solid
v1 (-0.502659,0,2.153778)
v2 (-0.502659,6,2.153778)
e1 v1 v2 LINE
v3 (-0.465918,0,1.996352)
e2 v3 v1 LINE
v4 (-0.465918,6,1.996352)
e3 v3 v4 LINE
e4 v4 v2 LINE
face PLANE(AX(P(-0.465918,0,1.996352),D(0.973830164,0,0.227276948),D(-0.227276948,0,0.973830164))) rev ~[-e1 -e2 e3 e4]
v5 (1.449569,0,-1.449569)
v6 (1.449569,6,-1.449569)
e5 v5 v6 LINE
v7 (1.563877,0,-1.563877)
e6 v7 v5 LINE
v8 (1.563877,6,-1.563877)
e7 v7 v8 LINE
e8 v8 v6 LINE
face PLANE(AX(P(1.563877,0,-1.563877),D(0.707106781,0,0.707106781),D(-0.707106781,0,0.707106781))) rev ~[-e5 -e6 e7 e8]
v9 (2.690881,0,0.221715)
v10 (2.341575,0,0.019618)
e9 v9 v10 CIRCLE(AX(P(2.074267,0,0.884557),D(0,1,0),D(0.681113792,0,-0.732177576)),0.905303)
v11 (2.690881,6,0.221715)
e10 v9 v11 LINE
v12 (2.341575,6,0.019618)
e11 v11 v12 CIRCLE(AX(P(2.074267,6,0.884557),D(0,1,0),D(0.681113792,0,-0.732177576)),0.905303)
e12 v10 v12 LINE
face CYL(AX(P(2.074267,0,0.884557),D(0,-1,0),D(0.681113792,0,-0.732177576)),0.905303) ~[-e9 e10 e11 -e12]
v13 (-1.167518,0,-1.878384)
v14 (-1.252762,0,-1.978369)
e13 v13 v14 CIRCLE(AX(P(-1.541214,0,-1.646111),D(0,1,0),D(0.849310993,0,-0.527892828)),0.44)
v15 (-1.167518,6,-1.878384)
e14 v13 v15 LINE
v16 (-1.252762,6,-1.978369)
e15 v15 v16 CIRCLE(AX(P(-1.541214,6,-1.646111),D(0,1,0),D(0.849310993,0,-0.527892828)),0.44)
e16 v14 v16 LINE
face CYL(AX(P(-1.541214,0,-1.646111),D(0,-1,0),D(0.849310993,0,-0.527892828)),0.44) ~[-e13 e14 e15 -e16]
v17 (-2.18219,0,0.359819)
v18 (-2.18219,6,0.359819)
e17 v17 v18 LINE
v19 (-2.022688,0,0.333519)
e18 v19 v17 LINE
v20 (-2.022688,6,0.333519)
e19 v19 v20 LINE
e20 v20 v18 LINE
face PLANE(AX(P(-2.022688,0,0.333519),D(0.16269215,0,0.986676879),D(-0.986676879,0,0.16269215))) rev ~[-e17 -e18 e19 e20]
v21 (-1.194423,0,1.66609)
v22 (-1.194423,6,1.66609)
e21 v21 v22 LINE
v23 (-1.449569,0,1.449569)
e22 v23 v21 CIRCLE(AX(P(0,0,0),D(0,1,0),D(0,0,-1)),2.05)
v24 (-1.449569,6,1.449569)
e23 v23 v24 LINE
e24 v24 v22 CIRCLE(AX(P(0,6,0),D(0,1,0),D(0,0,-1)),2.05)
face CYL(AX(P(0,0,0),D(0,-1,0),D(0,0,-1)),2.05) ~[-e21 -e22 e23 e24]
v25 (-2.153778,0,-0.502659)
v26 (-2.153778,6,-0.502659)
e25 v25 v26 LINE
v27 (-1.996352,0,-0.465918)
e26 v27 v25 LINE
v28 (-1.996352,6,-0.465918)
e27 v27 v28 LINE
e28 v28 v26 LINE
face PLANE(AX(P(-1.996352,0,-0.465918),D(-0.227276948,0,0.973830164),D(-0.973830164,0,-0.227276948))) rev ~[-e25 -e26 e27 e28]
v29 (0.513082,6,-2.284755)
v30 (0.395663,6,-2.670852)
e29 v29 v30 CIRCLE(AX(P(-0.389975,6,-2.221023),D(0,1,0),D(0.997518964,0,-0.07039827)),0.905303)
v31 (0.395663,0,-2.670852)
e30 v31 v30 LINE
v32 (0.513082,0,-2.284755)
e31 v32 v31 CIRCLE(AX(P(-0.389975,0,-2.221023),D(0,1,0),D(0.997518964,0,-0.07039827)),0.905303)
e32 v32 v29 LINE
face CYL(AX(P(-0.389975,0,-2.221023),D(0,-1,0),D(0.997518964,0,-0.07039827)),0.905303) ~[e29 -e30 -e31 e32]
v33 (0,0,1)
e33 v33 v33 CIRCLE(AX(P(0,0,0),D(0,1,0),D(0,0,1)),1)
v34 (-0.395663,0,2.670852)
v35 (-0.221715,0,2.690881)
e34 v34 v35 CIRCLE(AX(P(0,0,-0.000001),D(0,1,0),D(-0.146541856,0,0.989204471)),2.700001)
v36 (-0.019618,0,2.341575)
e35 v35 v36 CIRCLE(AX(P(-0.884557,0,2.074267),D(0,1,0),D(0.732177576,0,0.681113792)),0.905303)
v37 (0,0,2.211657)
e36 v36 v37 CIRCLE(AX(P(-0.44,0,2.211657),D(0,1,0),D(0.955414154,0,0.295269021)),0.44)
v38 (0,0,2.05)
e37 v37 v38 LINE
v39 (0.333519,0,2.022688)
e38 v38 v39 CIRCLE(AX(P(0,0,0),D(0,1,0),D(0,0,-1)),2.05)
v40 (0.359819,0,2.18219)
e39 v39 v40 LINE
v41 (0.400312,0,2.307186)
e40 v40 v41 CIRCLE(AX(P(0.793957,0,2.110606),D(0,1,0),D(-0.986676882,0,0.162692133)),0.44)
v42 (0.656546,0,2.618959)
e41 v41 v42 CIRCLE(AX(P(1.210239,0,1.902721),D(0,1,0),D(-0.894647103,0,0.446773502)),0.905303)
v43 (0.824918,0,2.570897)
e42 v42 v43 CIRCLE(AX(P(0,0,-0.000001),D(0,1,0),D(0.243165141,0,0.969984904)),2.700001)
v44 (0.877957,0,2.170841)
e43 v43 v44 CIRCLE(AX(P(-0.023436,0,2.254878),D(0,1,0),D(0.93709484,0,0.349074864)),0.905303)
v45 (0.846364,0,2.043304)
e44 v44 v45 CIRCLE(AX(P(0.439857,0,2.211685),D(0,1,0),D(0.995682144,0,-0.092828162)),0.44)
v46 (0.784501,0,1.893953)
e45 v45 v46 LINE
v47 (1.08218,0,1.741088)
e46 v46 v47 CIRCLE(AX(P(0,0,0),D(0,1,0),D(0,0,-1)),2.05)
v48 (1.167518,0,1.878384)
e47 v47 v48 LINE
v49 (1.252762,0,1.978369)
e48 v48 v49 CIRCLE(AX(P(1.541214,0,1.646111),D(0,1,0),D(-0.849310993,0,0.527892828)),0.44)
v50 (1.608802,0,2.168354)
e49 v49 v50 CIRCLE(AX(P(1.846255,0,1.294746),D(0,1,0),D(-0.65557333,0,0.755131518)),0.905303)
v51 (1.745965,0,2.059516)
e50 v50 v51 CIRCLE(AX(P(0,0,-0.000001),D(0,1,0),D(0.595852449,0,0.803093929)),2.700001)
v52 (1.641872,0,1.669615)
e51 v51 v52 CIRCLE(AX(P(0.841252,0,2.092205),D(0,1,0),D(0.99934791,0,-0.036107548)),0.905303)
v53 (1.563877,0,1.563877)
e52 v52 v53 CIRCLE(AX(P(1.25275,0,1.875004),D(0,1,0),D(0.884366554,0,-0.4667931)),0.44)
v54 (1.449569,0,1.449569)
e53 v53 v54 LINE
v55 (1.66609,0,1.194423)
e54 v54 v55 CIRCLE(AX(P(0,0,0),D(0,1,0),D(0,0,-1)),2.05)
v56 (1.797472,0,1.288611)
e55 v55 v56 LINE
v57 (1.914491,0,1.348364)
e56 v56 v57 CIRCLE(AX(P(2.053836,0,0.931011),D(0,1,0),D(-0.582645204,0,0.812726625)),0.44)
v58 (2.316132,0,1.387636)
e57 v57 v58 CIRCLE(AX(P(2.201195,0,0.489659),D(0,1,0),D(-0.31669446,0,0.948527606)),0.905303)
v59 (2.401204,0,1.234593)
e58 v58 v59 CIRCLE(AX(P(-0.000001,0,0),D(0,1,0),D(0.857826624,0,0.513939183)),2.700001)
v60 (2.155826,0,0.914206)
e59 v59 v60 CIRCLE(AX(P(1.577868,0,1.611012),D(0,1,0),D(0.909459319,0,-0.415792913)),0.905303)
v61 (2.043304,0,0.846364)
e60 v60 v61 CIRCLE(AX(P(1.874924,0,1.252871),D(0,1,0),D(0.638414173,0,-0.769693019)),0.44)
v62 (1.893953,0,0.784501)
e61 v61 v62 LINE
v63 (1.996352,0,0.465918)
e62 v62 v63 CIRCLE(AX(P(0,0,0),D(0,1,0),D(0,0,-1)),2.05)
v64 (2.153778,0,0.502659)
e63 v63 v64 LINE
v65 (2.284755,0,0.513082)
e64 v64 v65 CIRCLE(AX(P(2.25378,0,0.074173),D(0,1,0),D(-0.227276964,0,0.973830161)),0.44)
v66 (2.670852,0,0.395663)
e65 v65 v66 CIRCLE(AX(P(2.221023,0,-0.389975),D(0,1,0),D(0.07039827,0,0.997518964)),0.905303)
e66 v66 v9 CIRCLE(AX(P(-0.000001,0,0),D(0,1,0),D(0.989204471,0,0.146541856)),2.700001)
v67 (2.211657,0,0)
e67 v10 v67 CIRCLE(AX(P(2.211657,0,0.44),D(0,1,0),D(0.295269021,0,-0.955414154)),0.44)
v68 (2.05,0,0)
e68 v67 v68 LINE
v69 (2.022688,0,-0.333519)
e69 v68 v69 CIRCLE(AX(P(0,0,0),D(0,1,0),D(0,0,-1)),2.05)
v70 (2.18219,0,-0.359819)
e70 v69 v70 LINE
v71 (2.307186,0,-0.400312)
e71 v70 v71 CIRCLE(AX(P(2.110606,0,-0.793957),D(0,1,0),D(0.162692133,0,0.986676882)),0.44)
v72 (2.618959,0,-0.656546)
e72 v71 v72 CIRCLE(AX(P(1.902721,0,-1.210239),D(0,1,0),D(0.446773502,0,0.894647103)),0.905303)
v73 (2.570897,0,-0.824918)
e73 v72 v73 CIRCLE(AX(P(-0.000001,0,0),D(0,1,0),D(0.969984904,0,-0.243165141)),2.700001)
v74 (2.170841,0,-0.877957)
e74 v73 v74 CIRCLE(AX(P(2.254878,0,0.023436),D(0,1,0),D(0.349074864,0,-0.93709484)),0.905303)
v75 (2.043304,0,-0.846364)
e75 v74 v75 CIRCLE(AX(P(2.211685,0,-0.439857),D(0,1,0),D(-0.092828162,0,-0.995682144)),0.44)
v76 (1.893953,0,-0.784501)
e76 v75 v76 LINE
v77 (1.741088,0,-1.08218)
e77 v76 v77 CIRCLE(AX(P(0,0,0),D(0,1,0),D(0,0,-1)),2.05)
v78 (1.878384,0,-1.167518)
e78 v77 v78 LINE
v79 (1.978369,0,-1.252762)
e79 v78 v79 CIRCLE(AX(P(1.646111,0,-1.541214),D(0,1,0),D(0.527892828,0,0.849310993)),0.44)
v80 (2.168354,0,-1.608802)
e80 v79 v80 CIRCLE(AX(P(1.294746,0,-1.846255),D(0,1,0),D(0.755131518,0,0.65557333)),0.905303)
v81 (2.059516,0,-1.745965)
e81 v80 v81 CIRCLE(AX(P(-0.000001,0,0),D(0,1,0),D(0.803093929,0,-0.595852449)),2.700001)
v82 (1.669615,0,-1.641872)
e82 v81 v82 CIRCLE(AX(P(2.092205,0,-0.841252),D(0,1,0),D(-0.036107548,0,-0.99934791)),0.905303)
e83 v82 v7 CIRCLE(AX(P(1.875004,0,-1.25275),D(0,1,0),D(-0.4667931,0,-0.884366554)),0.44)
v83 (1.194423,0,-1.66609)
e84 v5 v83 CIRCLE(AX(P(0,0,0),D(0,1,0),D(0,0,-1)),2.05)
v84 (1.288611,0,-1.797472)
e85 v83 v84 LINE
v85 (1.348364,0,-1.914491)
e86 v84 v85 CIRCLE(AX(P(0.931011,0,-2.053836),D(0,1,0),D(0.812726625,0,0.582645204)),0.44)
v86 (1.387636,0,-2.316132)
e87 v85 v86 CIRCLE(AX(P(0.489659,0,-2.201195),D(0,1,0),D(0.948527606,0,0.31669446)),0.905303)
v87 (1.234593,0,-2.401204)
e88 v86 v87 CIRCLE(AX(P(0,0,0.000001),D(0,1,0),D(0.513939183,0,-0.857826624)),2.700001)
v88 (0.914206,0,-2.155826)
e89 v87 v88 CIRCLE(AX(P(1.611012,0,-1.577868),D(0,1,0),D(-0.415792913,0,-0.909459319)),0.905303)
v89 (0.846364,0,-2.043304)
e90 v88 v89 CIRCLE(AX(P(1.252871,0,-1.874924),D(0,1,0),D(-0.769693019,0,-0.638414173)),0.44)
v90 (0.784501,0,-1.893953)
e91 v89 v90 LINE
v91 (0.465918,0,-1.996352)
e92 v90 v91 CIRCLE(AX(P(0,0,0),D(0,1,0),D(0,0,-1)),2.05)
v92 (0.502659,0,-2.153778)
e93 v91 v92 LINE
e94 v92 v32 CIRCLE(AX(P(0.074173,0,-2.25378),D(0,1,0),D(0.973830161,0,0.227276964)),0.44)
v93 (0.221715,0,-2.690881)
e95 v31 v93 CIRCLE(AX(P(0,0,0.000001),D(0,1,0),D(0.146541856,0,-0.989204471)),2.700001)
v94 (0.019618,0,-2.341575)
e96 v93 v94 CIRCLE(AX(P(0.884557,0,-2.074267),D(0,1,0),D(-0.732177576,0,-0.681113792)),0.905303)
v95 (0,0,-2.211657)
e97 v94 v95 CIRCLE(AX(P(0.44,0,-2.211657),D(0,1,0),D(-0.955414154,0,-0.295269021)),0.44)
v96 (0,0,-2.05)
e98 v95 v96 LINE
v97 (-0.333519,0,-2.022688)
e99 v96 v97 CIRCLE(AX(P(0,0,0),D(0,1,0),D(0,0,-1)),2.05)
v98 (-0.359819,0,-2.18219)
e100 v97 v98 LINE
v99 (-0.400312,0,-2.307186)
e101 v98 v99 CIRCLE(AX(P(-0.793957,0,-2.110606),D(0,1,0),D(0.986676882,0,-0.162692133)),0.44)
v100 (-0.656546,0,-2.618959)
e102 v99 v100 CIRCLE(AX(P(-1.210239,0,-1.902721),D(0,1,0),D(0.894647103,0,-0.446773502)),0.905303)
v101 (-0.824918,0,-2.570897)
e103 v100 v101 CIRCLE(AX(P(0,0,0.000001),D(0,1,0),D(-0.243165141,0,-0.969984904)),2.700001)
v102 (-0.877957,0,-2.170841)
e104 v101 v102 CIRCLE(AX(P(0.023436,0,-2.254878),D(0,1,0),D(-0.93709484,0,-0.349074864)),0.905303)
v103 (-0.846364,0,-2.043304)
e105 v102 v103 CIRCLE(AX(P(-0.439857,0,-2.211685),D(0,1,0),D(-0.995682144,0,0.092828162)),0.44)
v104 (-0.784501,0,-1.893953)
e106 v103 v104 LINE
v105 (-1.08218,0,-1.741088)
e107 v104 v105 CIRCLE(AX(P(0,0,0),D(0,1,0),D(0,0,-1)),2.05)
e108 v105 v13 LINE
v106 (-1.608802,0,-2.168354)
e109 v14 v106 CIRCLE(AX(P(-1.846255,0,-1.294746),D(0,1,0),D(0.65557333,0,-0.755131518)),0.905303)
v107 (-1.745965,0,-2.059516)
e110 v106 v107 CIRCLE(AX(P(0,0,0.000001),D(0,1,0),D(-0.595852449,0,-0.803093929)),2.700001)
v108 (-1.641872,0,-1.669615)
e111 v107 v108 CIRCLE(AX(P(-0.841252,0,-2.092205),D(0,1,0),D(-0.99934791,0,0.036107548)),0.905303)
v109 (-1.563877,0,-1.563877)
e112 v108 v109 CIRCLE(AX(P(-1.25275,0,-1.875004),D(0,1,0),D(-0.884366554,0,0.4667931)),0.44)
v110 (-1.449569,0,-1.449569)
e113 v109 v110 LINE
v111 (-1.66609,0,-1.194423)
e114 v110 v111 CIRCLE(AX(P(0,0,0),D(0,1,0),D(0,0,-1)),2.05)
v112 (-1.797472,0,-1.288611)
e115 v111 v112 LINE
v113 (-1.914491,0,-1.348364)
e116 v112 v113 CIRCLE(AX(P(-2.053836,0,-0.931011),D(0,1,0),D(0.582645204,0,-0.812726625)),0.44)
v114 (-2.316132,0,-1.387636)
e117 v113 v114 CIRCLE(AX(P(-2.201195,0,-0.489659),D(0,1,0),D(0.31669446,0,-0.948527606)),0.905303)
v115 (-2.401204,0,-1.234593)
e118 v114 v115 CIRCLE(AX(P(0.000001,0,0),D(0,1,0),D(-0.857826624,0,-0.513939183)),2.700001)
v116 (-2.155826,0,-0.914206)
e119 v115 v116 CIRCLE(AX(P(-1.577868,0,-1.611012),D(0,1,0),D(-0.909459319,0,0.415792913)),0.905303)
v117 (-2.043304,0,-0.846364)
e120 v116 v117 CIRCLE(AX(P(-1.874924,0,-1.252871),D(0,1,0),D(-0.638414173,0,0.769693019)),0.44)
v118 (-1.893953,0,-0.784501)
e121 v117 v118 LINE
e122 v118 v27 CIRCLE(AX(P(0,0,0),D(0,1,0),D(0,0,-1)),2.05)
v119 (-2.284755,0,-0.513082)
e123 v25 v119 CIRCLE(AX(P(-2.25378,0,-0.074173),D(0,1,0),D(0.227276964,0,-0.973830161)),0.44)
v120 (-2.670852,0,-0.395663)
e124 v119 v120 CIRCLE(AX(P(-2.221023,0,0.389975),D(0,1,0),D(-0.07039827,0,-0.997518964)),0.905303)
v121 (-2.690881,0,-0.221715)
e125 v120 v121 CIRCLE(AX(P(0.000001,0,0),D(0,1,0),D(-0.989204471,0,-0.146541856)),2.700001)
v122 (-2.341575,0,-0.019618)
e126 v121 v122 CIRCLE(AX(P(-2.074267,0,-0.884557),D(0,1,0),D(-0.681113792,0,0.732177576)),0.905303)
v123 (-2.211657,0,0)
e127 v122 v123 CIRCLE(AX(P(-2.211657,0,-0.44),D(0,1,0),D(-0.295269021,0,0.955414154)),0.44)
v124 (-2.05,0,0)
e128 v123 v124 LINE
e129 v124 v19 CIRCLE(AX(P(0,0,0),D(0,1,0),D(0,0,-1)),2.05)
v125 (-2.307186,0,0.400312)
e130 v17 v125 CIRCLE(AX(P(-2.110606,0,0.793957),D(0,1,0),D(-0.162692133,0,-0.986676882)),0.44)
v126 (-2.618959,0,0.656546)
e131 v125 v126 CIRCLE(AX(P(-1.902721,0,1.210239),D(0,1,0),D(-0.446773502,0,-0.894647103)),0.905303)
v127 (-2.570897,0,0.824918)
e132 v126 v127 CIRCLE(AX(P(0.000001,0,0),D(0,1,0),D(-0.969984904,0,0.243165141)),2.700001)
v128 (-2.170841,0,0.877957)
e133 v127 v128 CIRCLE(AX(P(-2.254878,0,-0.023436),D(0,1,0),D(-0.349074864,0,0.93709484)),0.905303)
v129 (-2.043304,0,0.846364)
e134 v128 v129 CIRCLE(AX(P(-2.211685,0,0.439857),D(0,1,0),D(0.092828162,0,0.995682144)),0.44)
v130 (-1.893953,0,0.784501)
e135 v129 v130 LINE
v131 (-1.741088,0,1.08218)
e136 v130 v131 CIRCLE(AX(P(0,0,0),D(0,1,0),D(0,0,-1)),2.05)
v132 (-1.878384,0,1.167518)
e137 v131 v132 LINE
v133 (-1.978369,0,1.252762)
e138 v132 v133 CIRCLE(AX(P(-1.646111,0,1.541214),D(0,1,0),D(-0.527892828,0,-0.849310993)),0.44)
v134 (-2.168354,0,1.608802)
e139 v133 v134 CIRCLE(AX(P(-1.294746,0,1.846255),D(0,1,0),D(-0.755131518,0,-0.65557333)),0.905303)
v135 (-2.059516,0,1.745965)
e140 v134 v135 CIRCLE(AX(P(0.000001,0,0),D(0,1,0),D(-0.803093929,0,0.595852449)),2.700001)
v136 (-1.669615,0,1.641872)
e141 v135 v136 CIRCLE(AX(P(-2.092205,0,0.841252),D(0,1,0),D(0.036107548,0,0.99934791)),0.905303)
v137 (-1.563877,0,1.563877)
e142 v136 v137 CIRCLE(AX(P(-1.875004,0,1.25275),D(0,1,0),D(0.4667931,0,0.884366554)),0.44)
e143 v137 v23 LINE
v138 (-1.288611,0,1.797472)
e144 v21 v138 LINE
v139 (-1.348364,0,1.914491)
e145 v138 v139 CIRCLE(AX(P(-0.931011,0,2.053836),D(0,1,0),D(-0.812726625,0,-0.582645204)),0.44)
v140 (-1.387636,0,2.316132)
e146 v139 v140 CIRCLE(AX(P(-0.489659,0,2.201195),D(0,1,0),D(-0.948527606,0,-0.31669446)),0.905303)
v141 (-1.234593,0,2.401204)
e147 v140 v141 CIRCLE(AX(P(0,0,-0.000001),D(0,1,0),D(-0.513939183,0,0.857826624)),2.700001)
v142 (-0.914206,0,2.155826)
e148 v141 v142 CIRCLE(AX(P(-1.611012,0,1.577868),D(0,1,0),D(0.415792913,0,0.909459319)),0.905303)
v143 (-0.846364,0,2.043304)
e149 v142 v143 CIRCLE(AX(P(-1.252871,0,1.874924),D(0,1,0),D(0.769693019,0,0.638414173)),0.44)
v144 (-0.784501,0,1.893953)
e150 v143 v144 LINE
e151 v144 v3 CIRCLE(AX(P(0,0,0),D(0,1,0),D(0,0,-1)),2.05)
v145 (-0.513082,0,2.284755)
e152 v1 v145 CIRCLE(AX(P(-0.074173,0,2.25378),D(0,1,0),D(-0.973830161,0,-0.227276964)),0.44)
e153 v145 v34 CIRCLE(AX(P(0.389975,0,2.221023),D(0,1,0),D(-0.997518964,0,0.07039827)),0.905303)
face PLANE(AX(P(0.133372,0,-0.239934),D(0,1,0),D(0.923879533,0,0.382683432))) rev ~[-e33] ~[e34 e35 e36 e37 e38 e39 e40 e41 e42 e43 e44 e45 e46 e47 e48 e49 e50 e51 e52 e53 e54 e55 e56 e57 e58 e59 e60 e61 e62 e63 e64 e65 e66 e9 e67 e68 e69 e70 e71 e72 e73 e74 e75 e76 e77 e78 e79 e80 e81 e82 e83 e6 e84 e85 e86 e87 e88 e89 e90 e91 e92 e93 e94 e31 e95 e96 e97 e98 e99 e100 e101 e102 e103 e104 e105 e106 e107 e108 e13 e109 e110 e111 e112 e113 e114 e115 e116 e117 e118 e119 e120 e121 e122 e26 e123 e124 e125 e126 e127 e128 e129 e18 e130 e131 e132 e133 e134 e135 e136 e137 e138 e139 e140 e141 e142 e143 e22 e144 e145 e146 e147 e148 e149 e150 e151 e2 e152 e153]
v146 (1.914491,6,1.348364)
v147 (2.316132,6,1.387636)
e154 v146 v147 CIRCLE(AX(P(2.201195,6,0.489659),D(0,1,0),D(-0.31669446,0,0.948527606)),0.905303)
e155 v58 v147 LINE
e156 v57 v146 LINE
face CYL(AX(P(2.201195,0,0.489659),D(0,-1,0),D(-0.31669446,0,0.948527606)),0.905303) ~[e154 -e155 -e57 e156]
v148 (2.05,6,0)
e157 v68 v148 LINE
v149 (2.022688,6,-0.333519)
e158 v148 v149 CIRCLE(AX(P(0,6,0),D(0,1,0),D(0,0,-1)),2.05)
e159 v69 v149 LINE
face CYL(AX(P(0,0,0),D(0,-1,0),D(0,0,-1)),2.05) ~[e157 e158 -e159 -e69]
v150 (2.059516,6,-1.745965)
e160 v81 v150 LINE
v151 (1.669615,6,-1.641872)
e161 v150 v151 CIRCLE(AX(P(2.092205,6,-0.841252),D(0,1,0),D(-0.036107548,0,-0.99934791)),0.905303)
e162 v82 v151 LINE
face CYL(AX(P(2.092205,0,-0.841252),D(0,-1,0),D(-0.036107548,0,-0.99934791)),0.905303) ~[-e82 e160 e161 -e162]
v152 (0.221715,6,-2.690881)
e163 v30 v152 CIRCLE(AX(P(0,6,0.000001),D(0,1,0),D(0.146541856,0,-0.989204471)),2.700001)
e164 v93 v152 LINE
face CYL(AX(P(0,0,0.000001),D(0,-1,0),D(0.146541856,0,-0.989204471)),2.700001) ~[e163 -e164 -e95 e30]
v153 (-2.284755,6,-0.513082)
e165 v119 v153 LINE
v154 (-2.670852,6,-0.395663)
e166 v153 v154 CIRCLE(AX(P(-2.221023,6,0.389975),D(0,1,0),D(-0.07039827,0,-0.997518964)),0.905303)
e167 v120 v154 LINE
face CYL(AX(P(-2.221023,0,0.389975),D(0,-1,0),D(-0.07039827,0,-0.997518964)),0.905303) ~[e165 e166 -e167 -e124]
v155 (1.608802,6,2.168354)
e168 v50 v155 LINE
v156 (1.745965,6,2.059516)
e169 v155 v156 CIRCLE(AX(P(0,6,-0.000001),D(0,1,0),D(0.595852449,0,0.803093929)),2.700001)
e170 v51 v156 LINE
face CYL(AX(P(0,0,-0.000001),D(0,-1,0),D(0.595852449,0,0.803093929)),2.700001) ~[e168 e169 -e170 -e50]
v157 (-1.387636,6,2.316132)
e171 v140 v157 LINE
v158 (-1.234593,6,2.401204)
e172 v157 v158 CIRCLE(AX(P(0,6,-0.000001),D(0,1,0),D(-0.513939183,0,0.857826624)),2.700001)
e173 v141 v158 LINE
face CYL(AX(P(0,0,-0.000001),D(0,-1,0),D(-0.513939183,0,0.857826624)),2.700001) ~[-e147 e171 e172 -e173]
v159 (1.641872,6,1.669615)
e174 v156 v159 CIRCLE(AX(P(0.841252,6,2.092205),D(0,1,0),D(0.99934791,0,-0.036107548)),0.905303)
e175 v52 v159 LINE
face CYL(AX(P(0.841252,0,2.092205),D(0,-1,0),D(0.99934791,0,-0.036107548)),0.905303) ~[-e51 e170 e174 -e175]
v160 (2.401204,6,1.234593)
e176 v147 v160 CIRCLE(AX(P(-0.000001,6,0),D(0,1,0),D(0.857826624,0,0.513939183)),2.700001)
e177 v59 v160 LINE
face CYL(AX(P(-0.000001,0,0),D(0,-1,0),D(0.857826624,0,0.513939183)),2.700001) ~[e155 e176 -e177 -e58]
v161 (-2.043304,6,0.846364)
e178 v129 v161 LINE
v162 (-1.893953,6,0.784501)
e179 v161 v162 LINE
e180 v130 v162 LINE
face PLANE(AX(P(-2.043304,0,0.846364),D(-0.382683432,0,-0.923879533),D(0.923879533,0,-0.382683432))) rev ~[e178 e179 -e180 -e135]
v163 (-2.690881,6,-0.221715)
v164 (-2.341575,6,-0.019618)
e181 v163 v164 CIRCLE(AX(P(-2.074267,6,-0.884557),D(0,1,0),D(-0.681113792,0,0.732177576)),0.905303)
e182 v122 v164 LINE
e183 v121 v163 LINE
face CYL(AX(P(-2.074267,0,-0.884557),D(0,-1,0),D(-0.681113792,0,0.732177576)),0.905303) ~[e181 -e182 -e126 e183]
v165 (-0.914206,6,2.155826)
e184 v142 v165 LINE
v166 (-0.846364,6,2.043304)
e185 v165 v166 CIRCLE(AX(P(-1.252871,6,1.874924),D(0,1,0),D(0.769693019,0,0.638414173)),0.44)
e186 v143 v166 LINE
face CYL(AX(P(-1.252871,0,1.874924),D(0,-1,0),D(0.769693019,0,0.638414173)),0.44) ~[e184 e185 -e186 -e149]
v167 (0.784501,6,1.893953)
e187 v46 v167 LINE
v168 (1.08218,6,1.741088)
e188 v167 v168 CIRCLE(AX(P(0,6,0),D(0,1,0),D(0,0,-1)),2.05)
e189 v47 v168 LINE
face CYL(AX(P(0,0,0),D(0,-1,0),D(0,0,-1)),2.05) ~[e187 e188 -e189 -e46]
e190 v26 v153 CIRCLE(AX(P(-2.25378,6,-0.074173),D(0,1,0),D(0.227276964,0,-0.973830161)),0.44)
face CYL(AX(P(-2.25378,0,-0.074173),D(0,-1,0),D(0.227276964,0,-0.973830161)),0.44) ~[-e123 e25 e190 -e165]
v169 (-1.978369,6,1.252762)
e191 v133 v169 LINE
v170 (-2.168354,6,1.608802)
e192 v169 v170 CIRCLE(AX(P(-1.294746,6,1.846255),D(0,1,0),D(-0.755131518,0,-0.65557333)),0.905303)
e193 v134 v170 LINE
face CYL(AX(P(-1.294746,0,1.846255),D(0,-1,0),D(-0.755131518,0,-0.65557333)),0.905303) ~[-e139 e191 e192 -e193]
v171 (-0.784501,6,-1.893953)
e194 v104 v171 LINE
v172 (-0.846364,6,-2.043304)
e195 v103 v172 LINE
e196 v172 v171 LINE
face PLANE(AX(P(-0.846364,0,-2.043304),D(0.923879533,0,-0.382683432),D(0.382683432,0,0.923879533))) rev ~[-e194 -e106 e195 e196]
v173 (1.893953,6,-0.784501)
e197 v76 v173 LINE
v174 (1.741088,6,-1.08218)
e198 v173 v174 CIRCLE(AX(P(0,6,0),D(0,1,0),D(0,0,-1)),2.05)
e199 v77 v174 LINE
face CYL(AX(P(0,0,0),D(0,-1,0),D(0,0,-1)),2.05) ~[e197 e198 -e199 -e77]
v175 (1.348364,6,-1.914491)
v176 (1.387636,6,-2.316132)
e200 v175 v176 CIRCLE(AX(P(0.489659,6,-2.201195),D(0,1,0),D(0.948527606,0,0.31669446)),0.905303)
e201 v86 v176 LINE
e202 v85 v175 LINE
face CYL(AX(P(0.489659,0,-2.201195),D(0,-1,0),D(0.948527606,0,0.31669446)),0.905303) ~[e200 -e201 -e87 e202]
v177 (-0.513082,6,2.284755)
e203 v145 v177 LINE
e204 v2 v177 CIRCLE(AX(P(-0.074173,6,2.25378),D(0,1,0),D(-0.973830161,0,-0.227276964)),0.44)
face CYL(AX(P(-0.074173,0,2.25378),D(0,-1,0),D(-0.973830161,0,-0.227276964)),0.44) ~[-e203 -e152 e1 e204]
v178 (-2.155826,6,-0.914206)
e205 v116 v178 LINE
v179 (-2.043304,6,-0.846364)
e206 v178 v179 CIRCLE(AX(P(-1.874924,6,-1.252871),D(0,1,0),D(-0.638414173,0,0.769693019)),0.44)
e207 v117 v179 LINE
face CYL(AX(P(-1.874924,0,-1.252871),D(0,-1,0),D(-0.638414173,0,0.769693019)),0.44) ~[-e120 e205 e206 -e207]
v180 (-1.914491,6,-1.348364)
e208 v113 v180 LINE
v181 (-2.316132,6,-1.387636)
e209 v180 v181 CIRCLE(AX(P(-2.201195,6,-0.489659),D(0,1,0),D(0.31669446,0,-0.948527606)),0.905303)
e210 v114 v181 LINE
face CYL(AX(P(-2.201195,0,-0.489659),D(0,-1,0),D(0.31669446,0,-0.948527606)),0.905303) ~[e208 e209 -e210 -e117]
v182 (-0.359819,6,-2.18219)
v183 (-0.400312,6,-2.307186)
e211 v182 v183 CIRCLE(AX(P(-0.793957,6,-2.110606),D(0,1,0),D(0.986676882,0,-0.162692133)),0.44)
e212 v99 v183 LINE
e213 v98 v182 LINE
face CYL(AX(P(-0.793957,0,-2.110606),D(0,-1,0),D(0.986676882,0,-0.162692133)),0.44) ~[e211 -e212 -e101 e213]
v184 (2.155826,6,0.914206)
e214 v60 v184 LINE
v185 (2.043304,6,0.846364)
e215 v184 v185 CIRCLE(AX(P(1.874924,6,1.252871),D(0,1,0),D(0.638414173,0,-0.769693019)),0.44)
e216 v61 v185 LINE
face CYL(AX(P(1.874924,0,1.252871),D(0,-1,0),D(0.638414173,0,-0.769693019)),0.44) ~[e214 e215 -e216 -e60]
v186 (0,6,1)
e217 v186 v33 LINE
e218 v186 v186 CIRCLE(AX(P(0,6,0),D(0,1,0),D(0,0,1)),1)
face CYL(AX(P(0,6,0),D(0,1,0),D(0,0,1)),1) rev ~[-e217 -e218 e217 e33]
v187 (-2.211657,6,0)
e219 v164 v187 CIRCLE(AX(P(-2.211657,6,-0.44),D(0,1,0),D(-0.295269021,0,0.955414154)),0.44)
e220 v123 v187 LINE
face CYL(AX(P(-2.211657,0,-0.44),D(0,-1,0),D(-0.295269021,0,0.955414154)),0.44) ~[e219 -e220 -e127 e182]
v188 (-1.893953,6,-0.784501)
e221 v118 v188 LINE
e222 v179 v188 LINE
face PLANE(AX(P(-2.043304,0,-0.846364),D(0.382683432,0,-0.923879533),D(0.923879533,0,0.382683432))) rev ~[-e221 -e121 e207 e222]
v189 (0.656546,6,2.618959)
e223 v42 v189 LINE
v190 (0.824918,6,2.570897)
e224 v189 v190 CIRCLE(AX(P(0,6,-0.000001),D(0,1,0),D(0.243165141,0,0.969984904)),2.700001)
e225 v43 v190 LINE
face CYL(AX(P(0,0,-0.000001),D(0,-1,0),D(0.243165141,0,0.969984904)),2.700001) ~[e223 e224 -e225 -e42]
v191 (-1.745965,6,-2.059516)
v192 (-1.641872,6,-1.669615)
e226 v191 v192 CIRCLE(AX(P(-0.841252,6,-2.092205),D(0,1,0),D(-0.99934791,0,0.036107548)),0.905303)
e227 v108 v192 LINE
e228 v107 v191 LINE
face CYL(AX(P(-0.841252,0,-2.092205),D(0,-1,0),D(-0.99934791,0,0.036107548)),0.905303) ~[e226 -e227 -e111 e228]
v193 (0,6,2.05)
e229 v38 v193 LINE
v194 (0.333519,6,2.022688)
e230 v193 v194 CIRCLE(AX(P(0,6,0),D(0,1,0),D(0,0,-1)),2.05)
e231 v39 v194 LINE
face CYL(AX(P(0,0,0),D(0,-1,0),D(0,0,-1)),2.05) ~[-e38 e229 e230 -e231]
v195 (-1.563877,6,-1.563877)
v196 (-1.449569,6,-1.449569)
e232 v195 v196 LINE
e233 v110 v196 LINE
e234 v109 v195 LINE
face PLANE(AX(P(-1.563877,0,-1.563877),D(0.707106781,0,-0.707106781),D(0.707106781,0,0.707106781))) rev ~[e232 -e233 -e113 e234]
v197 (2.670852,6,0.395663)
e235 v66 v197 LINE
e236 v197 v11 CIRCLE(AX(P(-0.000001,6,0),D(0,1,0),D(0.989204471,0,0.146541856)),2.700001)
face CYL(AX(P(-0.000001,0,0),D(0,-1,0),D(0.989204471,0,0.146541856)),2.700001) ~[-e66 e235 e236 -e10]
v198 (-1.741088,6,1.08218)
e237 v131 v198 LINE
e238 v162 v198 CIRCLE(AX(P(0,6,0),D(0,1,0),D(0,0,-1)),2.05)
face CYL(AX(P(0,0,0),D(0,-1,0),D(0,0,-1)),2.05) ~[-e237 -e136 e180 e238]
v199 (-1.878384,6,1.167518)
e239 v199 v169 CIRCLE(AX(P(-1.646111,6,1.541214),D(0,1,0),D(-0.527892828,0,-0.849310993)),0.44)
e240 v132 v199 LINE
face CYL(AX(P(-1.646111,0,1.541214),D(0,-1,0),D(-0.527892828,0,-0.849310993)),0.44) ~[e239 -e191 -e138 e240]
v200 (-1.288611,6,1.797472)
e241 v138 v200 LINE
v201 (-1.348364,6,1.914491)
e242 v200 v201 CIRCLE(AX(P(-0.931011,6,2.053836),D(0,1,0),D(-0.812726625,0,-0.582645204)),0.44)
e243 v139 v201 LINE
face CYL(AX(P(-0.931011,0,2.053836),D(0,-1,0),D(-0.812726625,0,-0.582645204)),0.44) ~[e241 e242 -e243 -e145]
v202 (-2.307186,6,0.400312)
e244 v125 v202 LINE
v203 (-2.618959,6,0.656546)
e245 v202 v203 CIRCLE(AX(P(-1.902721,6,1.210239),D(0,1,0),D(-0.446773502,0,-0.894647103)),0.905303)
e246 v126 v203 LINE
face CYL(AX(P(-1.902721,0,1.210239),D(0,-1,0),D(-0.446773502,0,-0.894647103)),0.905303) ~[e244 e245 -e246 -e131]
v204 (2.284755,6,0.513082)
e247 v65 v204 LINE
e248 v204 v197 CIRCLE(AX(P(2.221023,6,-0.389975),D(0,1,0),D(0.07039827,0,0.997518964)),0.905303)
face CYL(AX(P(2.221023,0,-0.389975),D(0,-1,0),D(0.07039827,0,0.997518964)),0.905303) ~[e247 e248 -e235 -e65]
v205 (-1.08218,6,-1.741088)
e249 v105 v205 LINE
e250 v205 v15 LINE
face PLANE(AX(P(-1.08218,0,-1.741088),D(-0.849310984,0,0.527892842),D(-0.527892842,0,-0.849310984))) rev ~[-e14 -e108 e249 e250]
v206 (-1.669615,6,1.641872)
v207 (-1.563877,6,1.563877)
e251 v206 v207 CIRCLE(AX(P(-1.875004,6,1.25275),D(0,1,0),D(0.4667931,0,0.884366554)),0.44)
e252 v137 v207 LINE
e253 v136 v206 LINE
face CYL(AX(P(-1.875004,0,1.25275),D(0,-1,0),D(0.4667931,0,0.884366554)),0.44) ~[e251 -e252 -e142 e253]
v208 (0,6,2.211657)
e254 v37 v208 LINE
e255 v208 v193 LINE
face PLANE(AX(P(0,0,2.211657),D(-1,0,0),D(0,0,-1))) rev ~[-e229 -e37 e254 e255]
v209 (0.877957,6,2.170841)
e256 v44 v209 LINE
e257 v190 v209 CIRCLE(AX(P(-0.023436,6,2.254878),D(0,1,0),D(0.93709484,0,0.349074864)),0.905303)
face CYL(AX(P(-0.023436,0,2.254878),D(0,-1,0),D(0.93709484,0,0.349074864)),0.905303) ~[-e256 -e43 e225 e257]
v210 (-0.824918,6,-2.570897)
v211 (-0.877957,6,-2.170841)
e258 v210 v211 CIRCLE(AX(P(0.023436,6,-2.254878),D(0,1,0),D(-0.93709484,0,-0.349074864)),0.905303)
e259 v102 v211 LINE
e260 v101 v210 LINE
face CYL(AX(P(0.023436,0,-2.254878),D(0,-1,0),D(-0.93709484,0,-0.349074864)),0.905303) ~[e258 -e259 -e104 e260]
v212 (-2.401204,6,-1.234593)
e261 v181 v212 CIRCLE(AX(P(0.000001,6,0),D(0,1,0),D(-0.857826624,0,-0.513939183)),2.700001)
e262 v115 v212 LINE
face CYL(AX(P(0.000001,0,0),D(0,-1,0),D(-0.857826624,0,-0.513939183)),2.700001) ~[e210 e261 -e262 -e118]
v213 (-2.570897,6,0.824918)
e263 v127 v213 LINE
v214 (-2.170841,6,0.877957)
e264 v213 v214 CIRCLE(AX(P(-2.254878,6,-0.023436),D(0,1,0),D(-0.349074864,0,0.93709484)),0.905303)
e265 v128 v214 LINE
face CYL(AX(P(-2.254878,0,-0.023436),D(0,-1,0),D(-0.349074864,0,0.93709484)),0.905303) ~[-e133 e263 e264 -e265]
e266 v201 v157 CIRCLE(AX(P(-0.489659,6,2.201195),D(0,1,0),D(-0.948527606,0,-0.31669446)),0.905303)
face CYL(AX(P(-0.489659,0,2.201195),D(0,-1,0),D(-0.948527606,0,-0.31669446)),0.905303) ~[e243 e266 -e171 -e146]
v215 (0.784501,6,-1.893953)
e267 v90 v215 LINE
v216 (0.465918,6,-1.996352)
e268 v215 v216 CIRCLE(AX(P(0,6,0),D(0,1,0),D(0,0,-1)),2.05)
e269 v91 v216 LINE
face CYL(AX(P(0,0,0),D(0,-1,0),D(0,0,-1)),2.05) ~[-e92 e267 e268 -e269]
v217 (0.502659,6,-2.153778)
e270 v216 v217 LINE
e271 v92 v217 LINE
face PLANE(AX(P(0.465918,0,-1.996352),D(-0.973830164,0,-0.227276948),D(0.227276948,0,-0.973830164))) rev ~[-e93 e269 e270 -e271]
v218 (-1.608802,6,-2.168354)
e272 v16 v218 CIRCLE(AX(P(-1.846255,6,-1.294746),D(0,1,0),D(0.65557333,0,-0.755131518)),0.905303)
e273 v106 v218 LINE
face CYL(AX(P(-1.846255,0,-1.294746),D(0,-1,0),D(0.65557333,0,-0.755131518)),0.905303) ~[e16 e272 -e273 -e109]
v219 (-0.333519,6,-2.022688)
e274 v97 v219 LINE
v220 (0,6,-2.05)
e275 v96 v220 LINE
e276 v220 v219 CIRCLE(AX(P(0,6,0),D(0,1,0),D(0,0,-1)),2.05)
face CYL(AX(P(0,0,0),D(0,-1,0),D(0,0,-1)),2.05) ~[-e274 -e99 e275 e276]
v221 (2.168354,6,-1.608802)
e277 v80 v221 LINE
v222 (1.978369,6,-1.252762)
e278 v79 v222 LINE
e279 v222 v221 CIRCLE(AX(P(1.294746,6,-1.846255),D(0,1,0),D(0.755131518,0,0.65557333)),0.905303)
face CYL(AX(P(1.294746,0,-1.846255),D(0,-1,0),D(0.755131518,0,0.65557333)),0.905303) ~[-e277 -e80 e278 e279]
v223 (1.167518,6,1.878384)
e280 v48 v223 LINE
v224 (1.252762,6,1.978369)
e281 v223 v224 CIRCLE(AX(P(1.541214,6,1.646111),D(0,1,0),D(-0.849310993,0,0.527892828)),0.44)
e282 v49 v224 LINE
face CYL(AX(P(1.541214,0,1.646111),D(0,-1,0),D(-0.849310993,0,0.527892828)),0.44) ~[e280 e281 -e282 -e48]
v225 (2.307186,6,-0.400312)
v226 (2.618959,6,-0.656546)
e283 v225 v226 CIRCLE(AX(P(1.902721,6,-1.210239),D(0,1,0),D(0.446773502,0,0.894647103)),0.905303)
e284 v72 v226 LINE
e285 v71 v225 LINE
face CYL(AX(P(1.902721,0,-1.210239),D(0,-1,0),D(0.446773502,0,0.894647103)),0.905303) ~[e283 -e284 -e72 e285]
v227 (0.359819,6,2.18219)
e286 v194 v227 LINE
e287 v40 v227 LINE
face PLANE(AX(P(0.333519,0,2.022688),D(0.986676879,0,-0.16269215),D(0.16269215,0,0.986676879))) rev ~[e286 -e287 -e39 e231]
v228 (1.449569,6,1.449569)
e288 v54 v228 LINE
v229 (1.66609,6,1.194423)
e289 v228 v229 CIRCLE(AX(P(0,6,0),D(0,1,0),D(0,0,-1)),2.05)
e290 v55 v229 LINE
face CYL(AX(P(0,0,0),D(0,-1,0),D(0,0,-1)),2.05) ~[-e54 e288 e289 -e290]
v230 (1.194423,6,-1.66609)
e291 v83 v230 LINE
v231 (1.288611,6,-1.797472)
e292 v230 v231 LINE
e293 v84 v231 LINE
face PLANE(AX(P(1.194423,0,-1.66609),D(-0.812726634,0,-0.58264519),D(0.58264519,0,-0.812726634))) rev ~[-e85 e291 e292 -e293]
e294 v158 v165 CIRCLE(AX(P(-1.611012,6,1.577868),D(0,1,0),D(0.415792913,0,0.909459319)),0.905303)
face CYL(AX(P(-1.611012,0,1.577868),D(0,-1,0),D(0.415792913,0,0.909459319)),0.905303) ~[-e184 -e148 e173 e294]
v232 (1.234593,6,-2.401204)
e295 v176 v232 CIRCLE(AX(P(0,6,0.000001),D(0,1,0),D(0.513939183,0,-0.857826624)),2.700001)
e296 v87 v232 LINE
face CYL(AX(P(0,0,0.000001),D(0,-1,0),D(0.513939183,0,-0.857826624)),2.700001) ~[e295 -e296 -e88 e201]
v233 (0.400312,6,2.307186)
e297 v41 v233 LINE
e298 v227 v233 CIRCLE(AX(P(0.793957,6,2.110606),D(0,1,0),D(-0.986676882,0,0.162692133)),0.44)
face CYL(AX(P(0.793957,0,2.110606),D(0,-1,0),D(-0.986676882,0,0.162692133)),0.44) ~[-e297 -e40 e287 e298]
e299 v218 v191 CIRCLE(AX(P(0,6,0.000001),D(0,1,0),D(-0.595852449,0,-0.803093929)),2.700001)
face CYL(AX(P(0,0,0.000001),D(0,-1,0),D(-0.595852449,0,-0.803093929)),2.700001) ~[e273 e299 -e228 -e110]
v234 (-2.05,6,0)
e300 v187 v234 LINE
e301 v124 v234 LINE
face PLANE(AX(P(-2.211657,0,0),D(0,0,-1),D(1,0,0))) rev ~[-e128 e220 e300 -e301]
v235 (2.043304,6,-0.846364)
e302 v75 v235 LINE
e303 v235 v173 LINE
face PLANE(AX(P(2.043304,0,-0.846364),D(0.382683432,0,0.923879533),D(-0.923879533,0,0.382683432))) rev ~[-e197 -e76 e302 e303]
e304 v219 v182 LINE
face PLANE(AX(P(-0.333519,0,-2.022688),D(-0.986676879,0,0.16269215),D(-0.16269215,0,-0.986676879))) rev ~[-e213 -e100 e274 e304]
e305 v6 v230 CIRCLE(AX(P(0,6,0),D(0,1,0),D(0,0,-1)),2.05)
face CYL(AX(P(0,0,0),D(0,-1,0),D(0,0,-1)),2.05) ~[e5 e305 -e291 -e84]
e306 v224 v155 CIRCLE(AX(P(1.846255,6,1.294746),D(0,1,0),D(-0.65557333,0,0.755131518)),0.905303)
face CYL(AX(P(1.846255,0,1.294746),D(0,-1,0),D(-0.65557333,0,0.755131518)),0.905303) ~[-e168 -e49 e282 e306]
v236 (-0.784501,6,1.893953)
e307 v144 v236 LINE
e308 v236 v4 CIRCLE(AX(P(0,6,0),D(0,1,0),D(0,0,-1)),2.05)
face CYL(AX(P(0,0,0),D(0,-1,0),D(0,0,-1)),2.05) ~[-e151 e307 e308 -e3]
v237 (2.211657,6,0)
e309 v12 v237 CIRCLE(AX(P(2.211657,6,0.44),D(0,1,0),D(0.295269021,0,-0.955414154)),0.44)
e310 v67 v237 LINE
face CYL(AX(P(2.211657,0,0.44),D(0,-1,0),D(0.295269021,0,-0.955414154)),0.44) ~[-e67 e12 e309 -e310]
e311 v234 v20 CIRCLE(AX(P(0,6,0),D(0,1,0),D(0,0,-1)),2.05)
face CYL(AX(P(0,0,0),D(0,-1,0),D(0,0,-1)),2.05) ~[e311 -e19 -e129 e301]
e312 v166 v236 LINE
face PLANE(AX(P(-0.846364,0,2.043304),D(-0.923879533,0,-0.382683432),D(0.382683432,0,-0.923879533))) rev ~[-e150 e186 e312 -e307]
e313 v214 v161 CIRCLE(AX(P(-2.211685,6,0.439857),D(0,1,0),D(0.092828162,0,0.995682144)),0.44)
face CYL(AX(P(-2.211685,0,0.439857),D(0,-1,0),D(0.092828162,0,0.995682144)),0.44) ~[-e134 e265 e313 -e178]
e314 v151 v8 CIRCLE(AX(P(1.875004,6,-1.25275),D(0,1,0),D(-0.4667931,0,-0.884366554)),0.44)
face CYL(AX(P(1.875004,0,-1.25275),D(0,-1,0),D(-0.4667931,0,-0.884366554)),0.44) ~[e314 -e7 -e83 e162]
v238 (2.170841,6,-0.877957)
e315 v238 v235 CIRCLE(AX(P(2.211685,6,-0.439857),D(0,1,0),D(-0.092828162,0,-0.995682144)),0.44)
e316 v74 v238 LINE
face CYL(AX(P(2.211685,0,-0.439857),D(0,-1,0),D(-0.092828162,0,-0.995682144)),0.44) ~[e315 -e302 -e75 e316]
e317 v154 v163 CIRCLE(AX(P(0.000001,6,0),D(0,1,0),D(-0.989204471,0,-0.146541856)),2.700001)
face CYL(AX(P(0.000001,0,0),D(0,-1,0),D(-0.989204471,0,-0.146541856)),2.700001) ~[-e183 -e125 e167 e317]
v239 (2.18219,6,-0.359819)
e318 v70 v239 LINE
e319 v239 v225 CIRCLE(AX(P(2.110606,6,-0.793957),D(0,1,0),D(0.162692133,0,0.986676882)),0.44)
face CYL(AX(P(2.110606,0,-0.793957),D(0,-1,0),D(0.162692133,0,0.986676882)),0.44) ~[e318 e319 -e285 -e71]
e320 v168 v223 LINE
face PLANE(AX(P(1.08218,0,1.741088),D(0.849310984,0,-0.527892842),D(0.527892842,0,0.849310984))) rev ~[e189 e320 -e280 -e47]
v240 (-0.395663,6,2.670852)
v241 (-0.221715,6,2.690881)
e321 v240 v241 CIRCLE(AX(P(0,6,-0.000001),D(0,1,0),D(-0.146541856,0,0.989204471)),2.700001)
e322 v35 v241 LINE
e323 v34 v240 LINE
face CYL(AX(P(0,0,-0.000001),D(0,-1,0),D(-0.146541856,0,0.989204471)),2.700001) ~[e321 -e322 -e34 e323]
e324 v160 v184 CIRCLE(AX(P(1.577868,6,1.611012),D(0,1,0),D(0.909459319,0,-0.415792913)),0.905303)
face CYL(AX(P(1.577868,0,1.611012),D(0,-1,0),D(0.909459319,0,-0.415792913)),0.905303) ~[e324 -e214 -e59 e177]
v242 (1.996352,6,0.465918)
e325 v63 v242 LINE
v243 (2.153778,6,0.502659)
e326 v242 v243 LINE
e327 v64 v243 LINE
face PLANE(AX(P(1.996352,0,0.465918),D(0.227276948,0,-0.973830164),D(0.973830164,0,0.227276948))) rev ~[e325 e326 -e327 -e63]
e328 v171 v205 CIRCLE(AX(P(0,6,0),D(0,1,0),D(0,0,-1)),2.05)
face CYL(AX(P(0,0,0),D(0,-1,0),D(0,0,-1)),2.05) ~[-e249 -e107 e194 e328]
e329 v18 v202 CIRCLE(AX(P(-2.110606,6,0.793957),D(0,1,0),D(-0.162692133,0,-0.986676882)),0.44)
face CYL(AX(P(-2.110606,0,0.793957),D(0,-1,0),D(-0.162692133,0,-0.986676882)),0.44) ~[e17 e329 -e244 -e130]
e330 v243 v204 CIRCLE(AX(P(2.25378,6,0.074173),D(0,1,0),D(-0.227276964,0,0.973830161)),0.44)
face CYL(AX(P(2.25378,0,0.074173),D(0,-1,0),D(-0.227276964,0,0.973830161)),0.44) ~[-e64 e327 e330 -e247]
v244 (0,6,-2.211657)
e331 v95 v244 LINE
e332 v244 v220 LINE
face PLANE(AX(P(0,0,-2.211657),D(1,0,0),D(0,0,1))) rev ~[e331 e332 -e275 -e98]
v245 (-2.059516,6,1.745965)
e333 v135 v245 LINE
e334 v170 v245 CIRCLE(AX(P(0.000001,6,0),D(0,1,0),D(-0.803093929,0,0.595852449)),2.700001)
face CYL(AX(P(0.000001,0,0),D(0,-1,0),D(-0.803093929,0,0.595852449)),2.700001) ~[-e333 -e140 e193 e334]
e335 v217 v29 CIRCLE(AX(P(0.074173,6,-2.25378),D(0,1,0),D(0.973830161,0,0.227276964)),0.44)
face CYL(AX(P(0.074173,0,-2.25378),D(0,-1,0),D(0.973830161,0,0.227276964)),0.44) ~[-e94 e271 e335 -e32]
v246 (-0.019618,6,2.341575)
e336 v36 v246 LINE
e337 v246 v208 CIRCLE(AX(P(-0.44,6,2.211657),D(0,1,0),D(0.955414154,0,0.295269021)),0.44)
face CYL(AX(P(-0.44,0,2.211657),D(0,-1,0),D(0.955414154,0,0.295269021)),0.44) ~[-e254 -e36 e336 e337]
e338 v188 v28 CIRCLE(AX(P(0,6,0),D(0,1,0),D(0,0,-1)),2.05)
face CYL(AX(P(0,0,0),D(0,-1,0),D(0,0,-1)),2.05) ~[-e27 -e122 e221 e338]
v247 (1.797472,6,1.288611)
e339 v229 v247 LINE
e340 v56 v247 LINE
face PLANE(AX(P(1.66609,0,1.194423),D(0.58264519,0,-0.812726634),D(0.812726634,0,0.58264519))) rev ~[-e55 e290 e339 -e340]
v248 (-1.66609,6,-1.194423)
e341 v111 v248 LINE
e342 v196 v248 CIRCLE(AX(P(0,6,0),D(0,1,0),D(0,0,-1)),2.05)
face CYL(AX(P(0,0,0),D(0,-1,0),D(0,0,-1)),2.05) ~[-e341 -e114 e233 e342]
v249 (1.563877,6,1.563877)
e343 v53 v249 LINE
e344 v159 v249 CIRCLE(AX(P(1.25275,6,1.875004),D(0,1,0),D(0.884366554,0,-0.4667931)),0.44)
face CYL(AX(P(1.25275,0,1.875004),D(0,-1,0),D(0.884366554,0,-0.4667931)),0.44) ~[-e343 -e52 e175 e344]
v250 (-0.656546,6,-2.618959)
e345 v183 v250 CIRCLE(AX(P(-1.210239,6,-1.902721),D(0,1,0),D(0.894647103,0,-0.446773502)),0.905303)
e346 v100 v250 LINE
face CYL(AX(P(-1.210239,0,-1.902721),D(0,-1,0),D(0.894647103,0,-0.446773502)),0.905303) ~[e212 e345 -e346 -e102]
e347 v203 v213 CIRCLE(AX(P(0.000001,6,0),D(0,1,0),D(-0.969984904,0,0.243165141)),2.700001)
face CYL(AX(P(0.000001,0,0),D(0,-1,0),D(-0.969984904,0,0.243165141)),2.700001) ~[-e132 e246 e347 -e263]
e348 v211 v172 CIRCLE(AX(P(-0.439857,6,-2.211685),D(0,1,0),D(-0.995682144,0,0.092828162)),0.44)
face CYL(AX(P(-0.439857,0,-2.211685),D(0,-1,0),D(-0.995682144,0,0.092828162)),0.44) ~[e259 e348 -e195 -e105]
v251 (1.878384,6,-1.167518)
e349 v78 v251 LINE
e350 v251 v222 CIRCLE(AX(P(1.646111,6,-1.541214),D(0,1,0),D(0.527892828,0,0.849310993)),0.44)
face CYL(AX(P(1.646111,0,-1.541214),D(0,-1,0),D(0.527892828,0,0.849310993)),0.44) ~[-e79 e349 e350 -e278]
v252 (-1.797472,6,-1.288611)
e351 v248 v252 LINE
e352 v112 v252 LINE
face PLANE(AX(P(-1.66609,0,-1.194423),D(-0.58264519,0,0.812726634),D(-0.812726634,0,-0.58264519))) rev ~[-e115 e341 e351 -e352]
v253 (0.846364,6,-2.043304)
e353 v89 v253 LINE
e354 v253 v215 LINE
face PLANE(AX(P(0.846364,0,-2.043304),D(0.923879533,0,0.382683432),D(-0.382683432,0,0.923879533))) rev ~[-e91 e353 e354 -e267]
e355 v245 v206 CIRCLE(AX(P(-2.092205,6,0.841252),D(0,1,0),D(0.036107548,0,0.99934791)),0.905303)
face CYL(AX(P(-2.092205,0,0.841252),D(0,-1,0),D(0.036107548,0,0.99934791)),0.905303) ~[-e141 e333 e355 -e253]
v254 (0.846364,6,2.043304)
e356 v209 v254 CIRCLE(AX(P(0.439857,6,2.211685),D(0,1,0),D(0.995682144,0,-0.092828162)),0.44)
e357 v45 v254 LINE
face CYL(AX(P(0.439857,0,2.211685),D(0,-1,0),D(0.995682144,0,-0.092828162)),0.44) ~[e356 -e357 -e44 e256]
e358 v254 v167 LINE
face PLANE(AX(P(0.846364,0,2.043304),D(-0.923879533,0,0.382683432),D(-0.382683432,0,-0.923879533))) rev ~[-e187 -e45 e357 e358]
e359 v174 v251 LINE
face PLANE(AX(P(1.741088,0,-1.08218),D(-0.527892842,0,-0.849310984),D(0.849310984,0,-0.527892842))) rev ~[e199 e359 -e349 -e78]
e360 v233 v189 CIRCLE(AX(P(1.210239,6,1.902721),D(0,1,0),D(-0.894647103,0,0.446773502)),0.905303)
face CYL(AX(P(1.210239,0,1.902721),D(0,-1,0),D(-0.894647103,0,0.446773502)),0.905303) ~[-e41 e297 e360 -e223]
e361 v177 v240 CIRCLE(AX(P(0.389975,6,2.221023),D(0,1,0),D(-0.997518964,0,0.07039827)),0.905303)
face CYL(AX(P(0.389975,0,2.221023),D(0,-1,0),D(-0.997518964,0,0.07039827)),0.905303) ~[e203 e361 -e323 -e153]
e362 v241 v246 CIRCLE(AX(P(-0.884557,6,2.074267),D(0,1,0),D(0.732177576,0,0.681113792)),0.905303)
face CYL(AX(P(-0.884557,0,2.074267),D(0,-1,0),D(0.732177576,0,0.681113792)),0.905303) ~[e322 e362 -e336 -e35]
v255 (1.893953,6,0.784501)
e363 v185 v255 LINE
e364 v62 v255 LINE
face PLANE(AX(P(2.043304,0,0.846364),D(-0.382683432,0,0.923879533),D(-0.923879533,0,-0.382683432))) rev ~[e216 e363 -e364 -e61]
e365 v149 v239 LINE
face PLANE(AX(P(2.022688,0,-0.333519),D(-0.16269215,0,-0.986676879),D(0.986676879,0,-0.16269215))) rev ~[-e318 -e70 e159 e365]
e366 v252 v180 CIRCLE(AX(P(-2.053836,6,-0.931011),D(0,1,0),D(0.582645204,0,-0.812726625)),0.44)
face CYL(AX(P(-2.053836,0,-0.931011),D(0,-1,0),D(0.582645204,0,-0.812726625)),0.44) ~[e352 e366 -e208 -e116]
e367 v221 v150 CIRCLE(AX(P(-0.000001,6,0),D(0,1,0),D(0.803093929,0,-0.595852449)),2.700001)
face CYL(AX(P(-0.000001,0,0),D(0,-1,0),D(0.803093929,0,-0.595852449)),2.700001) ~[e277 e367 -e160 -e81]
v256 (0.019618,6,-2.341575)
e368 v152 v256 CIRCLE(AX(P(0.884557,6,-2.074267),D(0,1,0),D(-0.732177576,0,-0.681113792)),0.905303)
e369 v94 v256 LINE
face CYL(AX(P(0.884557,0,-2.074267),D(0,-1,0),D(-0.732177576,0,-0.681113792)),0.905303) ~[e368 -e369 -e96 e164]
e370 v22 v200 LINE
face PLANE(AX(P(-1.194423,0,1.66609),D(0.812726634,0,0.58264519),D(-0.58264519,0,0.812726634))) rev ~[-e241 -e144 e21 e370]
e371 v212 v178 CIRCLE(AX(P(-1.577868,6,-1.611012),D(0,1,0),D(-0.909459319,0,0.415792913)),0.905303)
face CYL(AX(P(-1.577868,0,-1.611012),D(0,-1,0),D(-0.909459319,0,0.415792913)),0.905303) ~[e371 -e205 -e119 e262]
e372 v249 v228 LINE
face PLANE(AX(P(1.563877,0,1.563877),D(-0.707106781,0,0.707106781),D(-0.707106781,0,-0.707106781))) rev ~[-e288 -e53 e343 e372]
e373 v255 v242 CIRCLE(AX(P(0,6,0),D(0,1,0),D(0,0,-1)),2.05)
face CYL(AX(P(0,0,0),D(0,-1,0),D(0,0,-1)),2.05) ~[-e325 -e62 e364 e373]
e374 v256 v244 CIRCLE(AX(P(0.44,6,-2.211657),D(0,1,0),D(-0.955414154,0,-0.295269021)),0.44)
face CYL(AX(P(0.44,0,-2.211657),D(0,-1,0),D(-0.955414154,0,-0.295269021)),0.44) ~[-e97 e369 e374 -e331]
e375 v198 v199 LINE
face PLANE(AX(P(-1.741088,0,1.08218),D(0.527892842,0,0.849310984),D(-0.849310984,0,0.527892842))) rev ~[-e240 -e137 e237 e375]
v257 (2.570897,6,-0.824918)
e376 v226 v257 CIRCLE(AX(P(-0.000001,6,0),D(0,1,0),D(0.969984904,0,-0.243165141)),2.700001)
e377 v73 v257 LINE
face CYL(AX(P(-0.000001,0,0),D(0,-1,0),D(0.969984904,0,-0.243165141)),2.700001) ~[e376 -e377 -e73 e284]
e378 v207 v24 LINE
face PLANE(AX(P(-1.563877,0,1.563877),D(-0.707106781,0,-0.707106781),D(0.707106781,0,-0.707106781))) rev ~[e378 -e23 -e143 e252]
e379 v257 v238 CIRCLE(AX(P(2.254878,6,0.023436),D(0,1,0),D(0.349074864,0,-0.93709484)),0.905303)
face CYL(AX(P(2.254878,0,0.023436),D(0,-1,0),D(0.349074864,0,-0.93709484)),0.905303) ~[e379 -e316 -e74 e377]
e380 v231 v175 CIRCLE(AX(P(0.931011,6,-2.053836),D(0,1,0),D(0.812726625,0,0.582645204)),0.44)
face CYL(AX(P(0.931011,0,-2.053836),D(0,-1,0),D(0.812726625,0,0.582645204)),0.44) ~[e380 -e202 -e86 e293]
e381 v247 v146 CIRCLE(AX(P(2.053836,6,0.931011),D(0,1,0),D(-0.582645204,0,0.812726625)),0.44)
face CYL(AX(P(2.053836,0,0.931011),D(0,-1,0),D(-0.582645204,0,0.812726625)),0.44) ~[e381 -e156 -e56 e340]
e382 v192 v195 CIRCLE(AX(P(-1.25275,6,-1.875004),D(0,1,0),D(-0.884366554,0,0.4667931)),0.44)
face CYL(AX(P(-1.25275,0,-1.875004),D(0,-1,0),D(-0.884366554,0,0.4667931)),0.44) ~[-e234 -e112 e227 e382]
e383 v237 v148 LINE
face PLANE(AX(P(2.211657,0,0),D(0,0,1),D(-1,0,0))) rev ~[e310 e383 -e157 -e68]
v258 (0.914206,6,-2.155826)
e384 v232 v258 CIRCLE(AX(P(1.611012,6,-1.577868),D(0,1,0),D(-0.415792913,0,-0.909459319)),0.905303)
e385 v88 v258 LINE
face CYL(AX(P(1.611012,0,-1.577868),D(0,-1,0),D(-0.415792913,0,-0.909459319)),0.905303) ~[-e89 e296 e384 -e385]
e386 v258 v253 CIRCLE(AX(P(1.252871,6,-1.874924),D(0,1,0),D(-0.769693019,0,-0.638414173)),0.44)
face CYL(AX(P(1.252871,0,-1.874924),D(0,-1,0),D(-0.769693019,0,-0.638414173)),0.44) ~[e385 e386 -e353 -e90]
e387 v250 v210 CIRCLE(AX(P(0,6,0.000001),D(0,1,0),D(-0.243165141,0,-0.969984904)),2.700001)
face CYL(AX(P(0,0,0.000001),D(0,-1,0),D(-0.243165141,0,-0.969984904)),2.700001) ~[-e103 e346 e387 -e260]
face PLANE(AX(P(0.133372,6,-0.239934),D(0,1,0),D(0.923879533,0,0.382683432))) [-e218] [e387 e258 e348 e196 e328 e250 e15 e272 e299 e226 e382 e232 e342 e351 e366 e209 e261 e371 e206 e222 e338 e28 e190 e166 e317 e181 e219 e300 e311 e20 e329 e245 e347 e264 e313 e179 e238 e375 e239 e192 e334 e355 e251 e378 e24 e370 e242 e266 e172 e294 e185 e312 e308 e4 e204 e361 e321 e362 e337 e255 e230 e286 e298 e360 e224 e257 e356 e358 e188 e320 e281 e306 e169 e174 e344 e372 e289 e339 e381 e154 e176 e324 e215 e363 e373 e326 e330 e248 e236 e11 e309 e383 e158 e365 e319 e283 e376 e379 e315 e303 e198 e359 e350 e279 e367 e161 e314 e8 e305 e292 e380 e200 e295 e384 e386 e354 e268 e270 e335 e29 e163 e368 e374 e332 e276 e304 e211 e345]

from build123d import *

# Parameters (mm, degrees)
RESSALTO_EXTRUS_O2_DEPTH = 6
PADR_OCIRCULAR1_COUNT    = 16
ESBO_O6_R                = 1
CORTE_EXTRUS_O2_DEPTH    = 6


with BuildPart() as part:
    # Esboço5 → Ressalto-extrusão2 (new body)
    with BuildSketch(Plane(origin=(0, 0, 0), x_dir=(1, 0, 0), z_dir=(0, 1, 0))):
        with BuildLine():
            ThreePointArc((0.513081642, 2.284755025), (0.476160184, 2.484429594), (0.395663043, 2.670852066))
            ThreePointArc((0.395663043, 2.670852066), (0.308851182, 2.682277194), (0.221714504, 2.690881394))
            ThreePointArc((0.221714504, 2.690881394), (0.10095443, 2.527632713), (0.019617773, 2.341574991))
            ThreePointArc((0.019617773, 2.341574991), (0.004932086, 2.277352206), (0, 2.211656619))
            Line((0, 2.211656619), (0, 2.05))
            ThreePointArc((0, 2.05), (-0.23449812, -2.036543796), (0.465917747, 1.996351836))
            Line((0.465917747, 1.996351836), (0.50265857, 2.153777928))
            ThreePointArc((0.50265857, 2.153777928), (0.512786649, 2.218875221), (0.513081642, 2.284755025))
        make_face()
    ressalto_extrus_o2 = extrude(amount=RESSALTO_EXTRUS_O2_DEPTH)

    # PadrãoCircular1: Ressalto-extrusão2 ×16 about axis
    padr_ocircular1_axis = Axis((0, 0, 0), (0, 1, 0))
    for i in range(1, PADR_OCIRCULAR1_COUNT):
        add(ressalto_extrus_o2.rotate(padr_ocircular1_axis, i * 360 / PADR_OCIRCULAR1_COUNT))

    # Esboço6 → Corte-extrusão2 (cut)
    with BuildSketch(Plane(origin=(0, 6, 0), x_dir=(1, 0, 0), z_dir=(0, 1, 0))):
        with Locations(Location((0, 0, 0), (0, 0, 270))):
            Circle(ESBO_O6_R)
    extrude(amount=-CORTE_EXTRUS_O2_DEPTH, mode=Mode.SUBTRACT)


solid = part.part
